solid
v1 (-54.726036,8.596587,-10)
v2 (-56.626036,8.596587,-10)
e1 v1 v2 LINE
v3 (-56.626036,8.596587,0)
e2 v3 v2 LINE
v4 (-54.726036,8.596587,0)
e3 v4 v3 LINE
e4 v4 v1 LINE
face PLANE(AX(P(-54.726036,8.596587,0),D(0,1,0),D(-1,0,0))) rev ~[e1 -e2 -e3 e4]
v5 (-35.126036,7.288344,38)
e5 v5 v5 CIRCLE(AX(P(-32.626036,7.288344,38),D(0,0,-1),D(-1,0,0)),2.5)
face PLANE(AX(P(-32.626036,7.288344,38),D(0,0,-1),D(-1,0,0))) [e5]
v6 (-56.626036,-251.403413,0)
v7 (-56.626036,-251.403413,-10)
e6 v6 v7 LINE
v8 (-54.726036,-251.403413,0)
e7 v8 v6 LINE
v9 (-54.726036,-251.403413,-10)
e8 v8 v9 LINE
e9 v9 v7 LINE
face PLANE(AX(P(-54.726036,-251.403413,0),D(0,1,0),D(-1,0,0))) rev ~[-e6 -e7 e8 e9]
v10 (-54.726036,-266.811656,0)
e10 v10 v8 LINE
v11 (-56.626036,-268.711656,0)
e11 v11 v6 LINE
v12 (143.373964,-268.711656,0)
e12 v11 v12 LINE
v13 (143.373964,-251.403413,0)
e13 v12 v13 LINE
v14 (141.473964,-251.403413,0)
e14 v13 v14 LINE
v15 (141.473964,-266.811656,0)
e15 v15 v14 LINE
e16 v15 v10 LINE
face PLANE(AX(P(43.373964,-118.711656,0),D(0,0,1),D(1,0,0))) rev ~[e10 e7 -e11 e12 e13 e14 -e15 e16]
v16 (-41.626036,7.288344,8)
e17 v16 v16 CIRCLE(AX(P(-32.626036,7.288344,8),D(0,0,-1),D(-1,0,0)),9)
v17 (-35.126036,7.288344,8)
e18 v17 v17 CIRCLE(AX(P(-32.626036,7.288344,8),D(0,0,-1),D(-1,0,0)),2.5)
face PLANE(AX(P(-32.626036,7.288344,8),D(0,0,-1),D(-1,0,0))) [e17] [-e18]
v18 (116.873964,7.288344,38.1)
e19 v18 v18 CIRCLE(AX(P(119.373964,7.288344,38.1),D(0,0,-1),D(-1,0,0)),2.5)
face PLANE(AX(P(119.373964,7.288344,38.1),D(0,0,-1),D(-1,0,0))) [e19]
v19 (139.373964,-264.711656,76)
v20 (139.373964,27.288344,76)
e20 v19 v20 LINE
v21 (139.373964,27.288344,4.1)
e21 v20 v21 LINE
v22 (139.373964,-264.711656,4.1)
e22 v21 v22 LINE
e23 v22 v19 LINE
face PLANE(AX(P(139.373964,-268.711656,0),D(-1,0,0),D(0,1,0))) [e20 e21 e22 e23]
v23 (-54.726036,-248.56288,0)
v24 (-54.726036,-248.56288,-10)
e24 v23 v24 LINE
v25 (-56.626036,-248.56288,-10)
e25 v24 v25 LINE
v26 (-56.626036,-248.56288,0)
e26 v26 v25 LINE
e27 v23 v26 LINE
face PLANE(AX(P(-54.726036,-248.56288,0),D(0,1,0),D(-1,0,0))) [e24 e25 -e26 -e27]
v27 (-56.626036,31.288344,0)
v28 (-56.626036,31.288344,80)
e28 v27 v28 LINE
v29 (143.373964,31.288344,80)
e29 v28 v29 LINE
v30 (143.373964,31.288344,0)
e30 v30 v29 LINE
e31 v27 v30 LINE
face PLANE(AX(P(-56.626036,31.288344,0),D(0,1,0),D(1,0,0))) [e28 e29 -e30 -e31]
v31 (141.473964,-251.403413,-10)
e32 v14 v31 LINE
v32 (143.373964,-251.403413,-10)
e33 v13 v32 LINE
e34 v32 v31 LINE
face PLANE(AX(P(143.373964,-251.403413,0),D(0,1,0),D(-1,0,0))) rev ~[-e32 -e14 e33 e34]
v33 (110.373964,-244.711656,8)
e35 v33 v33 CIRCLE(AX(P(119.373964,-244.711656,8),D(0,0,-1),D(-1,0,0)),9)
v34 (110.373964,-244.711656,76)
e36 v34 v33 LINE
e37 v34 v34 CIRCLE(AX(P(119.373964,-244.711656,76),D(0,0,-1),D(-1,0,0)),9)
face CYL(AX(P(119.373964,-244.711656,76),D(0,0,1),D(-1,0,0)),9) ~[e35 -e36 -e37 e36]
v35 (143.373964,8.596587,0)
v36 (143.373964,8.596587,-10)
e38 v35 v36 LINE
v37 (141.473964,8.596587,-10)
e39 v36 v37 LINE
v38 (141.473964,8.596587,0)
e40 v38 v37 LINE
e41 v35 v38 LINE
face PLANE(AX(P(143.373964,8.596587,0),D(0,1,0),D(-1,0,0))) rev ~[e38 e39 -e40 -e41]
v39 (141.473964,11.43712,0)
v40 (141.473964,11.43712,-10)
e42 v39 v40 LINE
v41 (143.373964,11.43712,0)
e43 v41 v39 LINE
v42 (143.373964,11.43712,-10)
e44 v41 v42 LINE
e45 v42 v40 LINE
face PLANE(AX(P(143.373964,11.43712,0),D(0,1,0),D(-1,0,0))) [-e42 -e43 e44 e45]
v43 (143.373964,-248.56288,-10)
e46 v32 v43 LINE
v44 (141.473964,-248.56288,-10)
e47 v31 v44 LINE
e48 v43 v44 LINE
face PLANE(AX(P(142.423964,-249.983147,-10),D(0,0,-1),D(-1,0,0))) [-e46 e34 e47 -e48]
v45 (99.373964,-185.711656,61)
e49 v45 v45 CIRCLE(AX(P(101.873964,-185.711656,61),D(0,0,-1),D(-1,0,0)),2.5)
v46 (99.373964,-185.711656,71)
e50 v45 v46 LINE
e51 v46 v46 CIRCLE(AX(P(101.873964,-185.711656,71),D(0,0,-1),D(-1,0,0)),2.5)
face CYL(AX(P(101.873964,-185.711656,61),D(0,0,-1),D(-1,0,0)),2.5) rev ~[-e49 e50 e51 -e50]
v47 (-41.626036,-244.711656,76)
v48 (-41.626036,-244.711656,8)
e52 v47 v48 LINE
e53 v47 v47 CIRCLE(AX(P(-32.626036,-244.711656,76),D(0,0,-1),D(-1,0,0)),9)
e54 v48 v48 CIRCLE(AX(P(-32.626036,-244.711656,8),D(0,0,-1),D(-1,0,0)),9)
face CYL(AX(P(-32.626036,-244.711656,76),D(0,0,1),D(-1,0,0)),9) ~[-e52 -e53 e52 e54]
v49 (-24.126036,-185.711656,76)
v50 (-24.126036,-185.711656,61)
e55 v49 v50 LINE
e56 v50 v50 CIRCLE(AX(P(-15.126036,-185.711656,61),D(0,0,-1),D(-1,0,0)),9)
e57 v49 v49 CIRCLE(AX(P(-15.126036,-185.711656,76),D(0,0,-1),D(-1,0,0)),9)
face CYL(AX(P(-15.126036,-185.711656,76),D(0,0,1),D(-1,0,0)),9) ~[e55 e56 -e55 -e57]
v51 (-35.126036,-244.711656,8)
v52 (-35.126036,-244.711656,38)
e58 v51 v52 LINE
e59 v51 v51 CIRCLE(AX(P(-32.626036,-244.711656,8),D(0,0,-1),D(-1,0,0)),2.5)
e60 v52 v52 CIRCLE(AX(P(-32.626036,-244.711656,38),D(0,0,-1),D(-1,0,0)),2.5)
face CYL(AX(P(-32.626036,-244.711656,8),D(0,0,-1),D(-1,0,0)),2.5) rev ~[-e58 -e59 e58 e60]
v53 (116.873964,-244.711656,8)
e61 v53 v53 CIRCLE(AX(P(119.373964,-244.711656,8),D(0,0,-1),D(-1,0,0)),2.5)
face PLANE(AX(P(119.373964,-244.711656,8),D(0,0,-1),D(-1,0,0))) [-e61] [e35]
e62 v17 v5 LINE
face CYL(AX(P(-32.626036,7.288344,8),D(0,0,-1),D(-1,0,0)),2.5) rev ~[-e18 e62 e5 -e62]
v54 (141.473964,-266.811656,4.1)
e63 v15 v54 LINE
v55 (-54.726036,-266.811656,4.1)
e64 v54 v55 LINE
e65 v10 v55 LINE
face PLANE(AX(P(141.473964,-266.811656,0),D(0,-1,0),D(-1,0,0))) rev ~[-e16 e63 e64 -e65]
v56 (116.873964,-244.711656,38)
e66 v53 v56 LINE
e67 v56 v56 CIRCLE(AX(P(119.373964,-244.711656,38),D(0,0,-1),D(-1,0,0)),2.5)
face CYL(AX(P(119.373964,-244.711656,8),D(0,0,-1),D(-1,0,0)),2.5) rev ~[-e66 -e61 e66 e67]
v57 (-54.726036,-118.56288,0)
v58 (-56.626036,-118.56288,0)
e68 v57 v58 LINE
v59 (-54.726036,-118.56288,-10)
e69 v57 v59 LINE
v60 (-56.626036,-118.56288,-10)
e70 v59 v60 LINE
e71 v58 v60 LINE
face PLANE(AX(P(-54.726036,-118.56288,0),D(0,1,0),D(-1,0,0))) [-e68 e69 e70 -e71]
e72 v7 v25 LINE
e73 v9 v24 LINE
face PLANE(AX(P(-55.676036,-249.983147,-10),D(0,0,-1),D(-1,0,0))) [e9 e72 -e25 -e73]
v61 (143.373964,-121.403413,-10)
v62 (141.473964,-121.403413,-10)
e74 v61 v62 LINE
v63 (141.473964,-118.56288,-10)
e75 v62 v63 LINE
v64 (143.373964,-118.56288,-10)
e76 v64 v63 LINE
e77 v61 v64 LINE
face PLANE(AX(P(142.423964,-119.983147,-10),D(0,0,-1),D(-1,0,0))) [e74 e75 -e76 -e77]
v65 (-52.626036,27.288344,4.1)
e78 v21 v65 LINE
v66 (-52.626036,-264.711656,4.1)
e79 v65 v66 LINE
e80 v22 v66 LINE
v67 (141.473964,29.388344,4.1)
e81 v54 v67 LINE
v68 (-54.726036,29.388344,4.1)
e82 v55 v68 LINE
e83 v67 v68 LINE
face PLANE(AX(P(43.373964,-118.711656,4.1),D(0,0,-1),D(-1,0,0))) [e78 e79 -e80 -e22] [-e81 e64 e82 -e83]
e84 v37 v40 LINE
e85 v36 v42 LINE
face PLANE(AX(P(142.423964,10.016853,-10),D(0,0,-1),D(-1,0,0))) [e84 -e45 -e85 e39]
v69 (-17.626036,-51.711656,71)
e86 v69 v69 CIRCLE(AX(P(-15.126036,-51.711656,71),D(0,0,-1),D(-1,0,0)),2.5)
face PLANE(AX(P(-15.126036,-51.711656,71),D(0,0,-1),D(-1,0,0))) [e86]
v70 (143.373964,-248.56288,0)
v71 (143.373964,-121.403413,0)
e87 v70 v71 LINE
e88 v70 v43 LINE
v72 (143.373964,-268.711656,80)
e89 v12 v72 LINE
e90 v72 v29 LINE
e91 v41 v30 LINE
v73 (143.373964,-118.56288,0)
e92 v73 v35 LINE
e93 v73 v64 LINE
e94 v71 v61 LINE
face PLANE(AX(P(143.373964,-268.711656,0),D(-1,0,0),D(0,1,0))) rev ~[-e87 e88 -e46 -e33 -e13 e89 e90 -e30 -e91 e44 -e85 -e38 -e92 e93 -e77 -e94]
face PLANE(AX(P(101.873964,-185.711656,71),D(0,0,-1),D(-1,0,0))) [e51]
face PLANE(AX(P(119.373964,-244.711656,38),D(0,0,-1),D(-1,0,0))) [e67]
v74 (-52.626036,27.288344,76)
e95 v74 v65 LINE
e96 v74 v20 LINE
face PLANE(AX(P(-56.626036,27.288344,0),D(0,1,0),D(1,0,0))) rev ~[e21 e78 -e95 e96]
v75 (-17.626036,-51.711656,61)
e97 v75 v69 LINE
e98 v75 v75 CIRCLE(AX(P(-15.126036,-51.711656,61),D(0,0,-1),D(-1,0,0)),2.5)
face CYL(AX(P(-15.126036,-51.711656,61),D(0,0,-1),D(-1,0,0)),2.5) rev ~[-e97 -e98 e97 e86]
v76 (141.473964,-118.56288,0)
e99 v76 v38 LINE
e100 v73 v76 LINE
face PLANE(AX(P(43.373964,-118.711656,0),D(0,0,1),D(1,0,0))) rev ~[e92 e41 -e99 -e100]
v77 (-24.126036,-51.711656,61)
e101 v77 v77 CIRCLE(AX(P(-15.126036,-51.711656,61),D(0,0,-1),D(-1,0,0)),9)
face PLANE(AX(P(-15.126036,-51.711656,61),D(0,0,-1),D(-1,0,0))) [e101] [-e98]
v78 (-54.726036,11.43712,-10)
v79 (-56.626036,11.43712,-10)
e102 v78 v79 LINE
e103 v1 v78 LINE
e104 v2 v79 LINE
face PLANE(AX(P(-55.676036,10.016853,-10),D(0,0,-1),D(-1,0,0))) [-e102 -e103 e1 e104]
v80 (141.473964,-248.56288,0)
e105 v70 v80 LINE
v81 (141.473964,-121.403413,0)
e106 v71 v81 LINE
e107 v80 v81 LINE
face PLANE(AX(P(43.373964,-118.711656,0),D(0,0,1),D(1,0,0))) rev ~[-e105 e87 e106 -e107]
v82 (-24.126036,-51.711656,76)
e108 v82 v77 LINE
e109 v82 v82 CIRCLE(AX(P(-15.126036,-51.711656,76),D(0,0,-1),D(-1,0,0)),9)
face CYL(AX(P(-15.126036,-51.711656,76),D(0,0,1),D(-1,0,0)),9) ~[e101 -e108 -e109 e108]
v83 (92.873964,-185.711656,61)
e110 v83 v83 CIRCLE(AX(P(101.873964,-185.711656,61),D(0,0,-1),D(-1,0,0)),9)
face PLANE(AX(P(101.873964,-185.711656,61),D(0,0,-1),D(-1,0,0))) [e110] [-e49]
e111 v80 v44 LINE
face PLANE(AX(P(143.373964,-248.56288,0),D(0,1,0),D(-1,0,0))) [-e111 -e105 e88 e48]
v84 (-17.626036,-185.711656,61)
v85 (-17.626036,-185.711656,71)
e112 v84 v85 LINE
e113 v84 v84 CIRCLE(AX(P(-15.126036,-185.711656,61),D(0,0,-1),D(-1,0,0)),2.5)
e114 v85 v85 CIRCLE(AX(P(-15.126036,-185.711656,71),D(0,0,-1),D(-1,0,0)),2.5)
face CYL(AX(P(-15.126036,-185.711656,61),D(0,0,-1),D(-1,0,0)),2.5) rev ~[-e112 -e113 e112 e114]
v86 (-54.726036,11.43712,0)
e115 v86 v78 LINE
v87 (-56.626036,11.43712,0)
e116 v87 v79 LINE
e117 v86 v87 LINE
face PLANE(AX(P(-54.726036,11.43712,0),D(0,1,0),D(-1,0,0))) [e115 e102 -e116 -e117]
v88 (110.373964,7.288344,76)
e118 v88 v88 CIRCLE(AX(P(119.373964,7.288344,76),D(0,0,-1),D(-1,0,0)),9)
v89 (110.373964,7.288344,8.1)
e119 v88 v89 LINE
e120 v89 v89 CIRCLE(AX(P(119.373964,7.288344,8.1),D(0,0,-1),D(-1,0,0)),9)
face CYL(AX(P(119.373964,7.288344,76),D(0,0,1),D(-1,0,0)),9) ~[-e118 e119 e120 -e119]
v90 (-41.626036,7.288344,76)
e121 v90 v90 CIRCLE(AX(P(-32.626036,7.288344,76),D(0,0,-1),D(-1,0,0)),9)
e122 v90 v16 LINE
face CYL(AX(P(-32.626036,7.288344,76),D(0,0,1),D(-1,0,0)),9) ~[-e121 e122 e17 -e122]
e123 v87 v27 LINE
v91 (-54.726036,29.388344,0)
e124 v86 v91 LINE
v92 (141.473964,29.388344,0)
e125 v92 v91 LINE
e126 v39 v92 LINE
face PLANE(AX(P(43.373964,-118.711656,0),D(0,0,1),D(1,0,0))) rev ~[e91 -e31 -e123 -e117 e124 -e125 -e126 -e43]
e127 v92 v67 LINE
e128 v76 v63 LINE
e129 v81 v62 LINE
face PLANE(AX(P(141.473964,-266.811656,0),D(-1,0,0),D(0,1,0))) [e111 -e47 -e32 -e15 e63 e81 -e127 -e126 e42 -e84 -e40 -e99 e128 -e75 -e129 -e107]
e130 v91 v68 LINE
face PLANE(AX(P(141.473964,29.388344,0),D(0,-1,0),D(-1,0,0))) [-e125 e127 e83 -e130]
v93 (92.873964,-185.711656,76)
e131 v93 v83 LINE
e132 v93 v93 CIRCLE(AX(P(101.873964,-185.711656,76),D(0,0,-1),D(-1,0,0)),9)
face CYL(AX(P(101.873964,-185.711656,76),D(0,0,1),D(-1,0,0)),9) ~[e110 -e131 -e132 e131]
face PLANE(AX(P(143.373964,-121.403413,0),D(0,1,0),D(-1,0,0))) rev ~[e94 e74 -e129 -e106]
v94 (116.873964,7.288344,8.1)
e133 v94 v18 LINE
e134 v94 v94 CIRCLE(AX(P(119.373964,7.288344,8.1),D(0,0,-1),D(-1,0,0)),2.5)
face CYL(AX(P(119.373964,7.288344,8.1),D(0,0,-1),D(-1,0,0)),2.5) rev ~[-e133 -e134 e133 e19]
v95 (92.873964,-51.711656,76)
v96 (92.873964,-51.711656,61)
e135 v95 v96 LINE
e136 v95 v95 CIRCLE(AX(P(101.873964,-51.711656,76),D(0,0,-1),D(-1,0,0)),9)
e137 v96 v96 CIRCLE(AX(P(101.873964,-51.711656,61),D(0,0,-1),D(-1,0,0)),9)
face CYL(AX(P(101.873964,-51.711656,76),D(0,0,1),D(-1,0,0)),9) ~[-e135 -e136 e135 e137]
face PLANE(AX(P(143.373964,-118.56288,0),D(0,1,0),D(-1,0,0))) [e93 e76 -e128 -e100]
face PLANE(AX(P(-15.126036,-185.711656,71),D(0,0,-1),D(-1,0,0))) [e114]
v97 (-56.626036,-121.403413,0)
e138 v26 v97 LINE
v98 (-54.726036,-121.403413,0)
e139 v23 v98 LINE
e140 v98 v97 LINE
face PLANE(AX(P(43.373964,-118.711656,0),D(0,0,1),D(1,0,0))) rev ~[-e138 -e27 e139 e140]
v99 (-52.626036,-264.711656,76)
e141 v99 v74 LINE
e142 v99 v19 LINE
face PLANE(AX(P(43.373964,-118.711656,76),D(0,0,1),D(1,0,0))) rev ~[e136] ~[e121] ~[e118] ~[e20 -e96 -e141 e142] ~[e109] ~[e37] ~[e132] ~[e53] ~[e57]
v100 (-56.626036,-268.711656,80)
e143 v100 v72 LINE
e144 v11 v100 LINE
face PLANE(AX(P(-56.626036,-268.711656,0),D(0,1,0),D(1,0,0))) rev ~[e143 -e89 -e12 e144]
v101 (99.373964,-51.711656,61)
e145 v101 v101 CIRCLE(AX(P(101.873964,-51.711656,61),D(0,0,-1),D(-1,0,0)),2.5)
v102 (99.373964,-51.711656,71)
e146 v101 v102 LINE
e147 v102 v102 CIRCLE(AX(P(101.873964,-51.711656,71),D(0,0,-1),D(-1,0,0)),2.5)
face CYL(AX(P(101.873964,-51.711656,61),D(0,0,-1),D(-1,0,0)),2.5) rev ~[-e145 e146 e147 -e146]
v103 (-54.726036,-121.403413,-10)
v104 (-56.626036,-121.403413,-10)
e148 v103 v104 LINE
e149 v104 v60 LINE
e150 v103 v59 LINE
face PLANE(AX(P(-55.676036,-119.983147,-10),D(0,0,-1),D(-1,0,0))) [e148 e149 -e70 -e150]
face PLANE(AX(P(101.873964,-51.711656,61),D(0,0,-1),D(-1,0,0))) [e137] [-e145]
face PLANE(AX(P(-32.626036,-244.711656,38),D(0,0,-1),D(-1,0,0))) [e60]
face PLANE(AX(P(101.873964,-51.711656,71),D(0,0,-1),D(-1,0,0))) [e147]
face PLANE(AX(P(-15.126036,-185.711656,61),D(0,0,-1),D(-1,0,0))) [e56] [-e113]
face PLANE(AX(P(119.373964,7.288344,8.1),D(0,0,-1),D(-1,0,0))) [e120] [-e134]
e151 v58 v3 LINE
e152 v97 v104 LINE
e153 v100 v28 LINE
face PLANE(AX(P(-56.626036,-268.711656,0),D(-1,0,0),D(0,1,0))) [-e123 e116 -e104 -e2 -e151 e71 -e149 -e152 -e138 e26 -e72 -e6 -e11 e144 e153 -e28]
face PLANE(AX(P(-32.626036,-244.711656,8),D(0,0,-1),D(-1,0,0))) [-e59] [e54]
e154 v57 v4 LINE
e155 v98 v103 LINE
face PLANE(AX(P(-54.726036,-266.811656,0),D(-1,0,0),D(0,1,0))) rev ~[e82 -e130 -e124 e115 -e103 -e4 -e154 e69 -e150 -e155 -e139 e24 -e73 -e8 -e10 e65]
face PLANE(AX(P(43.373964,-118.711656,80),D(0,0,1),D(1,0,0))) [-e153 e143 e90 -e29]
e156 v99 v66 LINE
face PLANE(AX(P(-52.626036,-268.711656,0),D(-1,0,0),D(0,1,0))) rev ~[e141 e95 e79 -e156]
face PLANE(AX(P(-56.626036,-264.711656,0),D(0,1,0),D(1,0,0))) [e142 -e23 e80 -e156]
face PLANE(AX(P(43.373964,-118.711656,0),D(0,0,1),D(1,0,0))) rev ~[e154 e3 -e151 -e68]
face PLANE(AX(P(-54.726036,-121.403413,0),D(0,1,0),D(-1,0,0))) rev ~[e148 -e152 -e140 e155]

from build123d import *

# Parameters (mm, degrees)
ESQUISSE1_W                          = 200
ESQUISSE1_H                          = 300
BOSS_EXTRU_1_DEPTH                   = 80
COQUE1_T                             = -4
ESQUISSE3_W                          = 196.2
ESQUISSE3_H                          = 296.2
ENL_V_MAT_EXTRU_2_DEPTH              = 4.1
ESQUISSE4_R                          = 9
BOSS_EXTRU_2_DEPTH                   = 67.9
ESQUISSE5_R                          = 2.5
ENL_V_MAT_EXTRU_3_DEPTH              = 30
ESQUISSE4_4_R                        = 9
BOSS_EXTRU_3_DEPTH                   = 15
ESQUISSE6_R                          = 2.5
ENL_V_MAT_EXTRU_6_DEPTH              = 10
ESQUISSE8_R                          = 9
BOSS_EXTRU_5_DEPTH                   = 68
ESQUISSE9_R                          = 2.5
ENL_V_MAT_EXTRU_8_DEPTH              = 30
ESQUISSE10_W                         = 1.9
ESQUISSE10_H                         = 2.840533171
BOSS_EXTRU_6_DEPTH                   = 10
R_P_TITION_LIN_AIRE1_COUNT           = 2
R_P_TITION_LIN_AIRE1_PITCH           = 198.1
R_P_TITION_LIN_AIRE2_COPY_1_SKETCH_W = 1.9
R_P_TITION_LIN_AIRE2_COPY_1_SKETCH_H = 2.840533171
R_P_TITION_LIN_AIRE2_COPY_1_DEPTH    = 10
R_P_TITION_LIN_AIRE2_COPY_2_SKETCH_W = 1.9
R_P_TITION_LIN_AIRE2_COPY_2_SKETCH_H = 2.840533171
R_P_TITION_LIN_AIRE2_COPY_2_DEPTH    = 10
R_P_TITION_LIN_AIRE2_COPY_3_SKETCH_W = 1.9
R_P_TITION_LIN_AIRE2_COPY_3_SKETCH_H = 2.840533171
R_P_TITION_LIN_AIRE2_COPY_3_DEPTH    = 10
R_P_TITION_LIN_AIRE2_COPY_4_SKETCH_W = 1.9
R_P_TITION_LIN_AIRE2_COPY_4_SKETCH_H = 2.840533171
R_P_TITION_LIN_AIRE2_COPY_4_DEPTH    = 10


with BuildPart() as part:
    # Esquisse1 → Boss.-Extru.1 (new body)
    with BuildSketch(Plane.XY):
        with Locations((43.373964051, -118.711656442)):
            Rectangle(ESQUISSE1_W, ESQUISSE1_H)
    extrude(amount=BOSS_EXTRU_1_DEPTH)

    # Coque1
    coque1_openings = [part.faces().sort_by_distance(p)[0] for p in [
        (43.373964051, -118.711656442, 0),
    ]]
    offset(amount=COQUE1_T, openings=coque1_openings, kind=Kind.INTERSECTION)

    # Esquisse3 → Enlèv. mat.-Extru.2 (cut)
    with BuildSketch(Plane(origin=(0, 0, 0), x_dir=(-1, 0, 0), z_dir=(0, 0, -1))):
        with Locations((-43.373964051, -118.711656442)):
            Rectangle(ESQUISSE3_W, ESQUISSE3_H)
    extrude(amount=-ENL_V_MAT_EXTRU_2_DEPTH, mode=Mode.SUBTRACT)

    # Esquisse4 → Boss.-Extru.2 (add)
    with BuildSketch(Plane(origin=(0, 0, 76), x_dir=(-1, 0, 0), z_dir=(0, 0, -1))):
        with Locations((-119.373964051, 7.288343558)):
            Circle(ESQUISSE4_R)
    extrude(amount=BOSS_EXTRU_2_DEPTH)

    # Esquisse5 → Enlèv. mat.-Extru.3 (cut)
    with BuildSketch(Plane(origin=(0, 0, 8.1), x_dir=(-1, 0, 0), z_dir=(0, 0, -1))):
        with Locations((-119.373964051, 7.288343558)):
            Circle(ESQUISSE5_R)
    extrude(amount=-ENL_V_MAT_EXTRU_3_DEPTH, mode=Mode.SUBTRACT)

    # Esquisse4<4> → Boss.-Extru.3 (add)
    with BuildSketch(Plane(origin=(0, 0, 76), x_dir=(-1, 0, 0), z_dir=(0, 0, -1))):
        with Locations((15.126035949, -185.711656442)):
            Circle(ESQUISSE4_4_R)
        with Locations((-101.873964051, -185.711656442)):
            Circle(ESQUISSE4_4_R)
        with Locations((-101.873964051, -51.711656442)):
            Circle(ESQUISSE4_4_R)
        with Locations((15.126035949, -51.711656442)):
            Circle(ESQUISSE4_4_R)
    extrude(amount=BOSS_EXTRU_3_DEPTH)

    # Esquisse6 → Enlèv. mat.-Extru.6 (cut)
    with BuildSketch(Plane(origin=(0, 0, 61), x_dir=(-1, 0, 0), z_dir=(0, 0, -1))):
        with Locations((-101.873964051, -51.711656442)):
            Circle(ESQUISSE6_R)
        with Locations((15.126035949, -51.711656442)):
            Circle(ESQUISSE6_R)
        with Locations((-101.873964051, -185.711656442)):
            Circle(ESQUISSE6_R)
        with Locations((15.126035949, -185.711656442)):
            Circle(ESQUISSE6_R)
    extrude(amount=-ENL_V_MAT_EXTRU_6_DEPTH, mode=Mode.SUBTRACT)

    # Esquisse8 → Boss.-Extru.5 (add)
    with BuildSketch(Plane(origin=(0, 0, 76), x_dir=(-1, 0, 0), z_dir=(0, 0, -1))):
        with Locations((32.626035949, 7.288343558)):
            Circle(ESQUISSE8_R)
        with Locations((32.626035949, -244.711656442)):
            Circle(ESQUISSE8_R)
        with Locations((-119.373964051, -244.711656442)):
            Circle(ESQUISSE8_R)
    extrude(amount=BOSS_EXTRU_5_DEPTH)

    # Esquisse9 → Enlèv. mat.-Extru.8 (cut)
    with BuildSketch(Plane(origin=(0, 0, 8), x_dir=(-1, 0, 0), z_dir=(0, 0, -1))):
        with Locations((32.626035949, 7.288343558)):
            Circle(ESQUISSE9_R)
        with Locations((32.626035949, -244.711656442)):
            Circle(ESQUISSE9_R)
        with Locations((-119.373964051, -244.711656442)):
            Circle(ESQUISSE9_R)
    extrude(amount=-ENL_V_MAT_EXTRU_8_DEPTH, mode=Mode.SUBTRACT)

    # Esquisse10 → Boss.-Extru.6 (add)
    with BuildSketch(Plane(origin=(0, 0, 0), x_dir=(-1, 0, 0), z_dir=(0, 0, -1))):
        with Locations((-142.423964051, -249.983146828)):
            Rectangle(ESQUISSE10_W, ESQUISSE10_H)
    boss_extru_6 = extrude(amount=BOSS_EXTRU_6_DEPTH)

    # Répétition linéaire1: Boss.-Extru.6 ×2
    with Locations(*[(-i * R_P_TITION_LIN_AIRE1_PITCH, 0, 0) for i in range(1, R_P_TITION_LIN_AIRE1_COUNT)]):
        add(boss_extru_6)

    # Répétition linéaire2 copy 1 sketch → Répétition linéaire2 copy 1 (add)
    with BuildSketch(Plane(origin=(-198.1, 130, 0), x_dir=(-1, 0, 0), z_dir=(0, 0, -1))):
        with Locations((-142.423964051, -249.983146828)):
            Rectangle(R_P_TITION_LIN_AIRE2_COPY_1_SKETCH_W, R_P_TITION_LIN_AIRE2_COPY_1_SKETCH_H)
    extrude(amount=R_P_TITION_LIN_AIRE2_COPY_1_DEPTH)

    # Répétition linéaire2 copy 2 sketch → Répétition linéaire2 copy 2 (add)
    with BuildSketch(Plane(origin=(-198.1, 260, 0), x_dir=(-1, 0, 0), z_dir=(0, 0, -1))):
        with Locations((-142.423964051, -249.983146828)):
            Rectangle(R_P_TITION_LIN_AIRE2_COPY_2_SKETCH_W, R_P_TITION_LIN_AIRE2_COPY_2_SKETCH_H)
    extrude(amount=R_P_TITION_LIN_AIRE2_COPY_2_DEPTH)

    # Répétition linéaire2 copy 3 sketch → Répétition linéaire2 copy 3 (add)
    with BuildSketch(Plane(origin=(0, 130, 0), x_dir=(-1, 0, 0), z_dir=(0, 0, -1))):
        with Locations((-142.423964051, -249.983146828)):
            Rectangle(R_P_TITION_LIN_AIRE2_COPY_3_SKETCH_W, R_P_TITION_LIN_AIRE2_COPY_3_SKETCH_H)
    extrude(amount=R_P_TITION_LIN_AIRE2_COPY_3_DEPTH)

    # Répétition linéaire2 copy 4 sketch → Répétition linéaire2 copy 4 (add)
    with BuildSketch(Plane(origin=(0, 260, 0), x_dir=(-1, 0, 0), z_dir=(0, 0, -1))):
        with Locations((-142.423964051, -249.983146828)):
            Rectangle(R_P_TITION_LIN_AIRE2_COPY_4_SKETCH_W, R_P_TITION_LIN_AIRE2_COPY_4_SKETCH_H)
    extrude(amount=R_P_TITION_LIN_AIRE2_COPY_4_DEPTH)


solid = part.part
